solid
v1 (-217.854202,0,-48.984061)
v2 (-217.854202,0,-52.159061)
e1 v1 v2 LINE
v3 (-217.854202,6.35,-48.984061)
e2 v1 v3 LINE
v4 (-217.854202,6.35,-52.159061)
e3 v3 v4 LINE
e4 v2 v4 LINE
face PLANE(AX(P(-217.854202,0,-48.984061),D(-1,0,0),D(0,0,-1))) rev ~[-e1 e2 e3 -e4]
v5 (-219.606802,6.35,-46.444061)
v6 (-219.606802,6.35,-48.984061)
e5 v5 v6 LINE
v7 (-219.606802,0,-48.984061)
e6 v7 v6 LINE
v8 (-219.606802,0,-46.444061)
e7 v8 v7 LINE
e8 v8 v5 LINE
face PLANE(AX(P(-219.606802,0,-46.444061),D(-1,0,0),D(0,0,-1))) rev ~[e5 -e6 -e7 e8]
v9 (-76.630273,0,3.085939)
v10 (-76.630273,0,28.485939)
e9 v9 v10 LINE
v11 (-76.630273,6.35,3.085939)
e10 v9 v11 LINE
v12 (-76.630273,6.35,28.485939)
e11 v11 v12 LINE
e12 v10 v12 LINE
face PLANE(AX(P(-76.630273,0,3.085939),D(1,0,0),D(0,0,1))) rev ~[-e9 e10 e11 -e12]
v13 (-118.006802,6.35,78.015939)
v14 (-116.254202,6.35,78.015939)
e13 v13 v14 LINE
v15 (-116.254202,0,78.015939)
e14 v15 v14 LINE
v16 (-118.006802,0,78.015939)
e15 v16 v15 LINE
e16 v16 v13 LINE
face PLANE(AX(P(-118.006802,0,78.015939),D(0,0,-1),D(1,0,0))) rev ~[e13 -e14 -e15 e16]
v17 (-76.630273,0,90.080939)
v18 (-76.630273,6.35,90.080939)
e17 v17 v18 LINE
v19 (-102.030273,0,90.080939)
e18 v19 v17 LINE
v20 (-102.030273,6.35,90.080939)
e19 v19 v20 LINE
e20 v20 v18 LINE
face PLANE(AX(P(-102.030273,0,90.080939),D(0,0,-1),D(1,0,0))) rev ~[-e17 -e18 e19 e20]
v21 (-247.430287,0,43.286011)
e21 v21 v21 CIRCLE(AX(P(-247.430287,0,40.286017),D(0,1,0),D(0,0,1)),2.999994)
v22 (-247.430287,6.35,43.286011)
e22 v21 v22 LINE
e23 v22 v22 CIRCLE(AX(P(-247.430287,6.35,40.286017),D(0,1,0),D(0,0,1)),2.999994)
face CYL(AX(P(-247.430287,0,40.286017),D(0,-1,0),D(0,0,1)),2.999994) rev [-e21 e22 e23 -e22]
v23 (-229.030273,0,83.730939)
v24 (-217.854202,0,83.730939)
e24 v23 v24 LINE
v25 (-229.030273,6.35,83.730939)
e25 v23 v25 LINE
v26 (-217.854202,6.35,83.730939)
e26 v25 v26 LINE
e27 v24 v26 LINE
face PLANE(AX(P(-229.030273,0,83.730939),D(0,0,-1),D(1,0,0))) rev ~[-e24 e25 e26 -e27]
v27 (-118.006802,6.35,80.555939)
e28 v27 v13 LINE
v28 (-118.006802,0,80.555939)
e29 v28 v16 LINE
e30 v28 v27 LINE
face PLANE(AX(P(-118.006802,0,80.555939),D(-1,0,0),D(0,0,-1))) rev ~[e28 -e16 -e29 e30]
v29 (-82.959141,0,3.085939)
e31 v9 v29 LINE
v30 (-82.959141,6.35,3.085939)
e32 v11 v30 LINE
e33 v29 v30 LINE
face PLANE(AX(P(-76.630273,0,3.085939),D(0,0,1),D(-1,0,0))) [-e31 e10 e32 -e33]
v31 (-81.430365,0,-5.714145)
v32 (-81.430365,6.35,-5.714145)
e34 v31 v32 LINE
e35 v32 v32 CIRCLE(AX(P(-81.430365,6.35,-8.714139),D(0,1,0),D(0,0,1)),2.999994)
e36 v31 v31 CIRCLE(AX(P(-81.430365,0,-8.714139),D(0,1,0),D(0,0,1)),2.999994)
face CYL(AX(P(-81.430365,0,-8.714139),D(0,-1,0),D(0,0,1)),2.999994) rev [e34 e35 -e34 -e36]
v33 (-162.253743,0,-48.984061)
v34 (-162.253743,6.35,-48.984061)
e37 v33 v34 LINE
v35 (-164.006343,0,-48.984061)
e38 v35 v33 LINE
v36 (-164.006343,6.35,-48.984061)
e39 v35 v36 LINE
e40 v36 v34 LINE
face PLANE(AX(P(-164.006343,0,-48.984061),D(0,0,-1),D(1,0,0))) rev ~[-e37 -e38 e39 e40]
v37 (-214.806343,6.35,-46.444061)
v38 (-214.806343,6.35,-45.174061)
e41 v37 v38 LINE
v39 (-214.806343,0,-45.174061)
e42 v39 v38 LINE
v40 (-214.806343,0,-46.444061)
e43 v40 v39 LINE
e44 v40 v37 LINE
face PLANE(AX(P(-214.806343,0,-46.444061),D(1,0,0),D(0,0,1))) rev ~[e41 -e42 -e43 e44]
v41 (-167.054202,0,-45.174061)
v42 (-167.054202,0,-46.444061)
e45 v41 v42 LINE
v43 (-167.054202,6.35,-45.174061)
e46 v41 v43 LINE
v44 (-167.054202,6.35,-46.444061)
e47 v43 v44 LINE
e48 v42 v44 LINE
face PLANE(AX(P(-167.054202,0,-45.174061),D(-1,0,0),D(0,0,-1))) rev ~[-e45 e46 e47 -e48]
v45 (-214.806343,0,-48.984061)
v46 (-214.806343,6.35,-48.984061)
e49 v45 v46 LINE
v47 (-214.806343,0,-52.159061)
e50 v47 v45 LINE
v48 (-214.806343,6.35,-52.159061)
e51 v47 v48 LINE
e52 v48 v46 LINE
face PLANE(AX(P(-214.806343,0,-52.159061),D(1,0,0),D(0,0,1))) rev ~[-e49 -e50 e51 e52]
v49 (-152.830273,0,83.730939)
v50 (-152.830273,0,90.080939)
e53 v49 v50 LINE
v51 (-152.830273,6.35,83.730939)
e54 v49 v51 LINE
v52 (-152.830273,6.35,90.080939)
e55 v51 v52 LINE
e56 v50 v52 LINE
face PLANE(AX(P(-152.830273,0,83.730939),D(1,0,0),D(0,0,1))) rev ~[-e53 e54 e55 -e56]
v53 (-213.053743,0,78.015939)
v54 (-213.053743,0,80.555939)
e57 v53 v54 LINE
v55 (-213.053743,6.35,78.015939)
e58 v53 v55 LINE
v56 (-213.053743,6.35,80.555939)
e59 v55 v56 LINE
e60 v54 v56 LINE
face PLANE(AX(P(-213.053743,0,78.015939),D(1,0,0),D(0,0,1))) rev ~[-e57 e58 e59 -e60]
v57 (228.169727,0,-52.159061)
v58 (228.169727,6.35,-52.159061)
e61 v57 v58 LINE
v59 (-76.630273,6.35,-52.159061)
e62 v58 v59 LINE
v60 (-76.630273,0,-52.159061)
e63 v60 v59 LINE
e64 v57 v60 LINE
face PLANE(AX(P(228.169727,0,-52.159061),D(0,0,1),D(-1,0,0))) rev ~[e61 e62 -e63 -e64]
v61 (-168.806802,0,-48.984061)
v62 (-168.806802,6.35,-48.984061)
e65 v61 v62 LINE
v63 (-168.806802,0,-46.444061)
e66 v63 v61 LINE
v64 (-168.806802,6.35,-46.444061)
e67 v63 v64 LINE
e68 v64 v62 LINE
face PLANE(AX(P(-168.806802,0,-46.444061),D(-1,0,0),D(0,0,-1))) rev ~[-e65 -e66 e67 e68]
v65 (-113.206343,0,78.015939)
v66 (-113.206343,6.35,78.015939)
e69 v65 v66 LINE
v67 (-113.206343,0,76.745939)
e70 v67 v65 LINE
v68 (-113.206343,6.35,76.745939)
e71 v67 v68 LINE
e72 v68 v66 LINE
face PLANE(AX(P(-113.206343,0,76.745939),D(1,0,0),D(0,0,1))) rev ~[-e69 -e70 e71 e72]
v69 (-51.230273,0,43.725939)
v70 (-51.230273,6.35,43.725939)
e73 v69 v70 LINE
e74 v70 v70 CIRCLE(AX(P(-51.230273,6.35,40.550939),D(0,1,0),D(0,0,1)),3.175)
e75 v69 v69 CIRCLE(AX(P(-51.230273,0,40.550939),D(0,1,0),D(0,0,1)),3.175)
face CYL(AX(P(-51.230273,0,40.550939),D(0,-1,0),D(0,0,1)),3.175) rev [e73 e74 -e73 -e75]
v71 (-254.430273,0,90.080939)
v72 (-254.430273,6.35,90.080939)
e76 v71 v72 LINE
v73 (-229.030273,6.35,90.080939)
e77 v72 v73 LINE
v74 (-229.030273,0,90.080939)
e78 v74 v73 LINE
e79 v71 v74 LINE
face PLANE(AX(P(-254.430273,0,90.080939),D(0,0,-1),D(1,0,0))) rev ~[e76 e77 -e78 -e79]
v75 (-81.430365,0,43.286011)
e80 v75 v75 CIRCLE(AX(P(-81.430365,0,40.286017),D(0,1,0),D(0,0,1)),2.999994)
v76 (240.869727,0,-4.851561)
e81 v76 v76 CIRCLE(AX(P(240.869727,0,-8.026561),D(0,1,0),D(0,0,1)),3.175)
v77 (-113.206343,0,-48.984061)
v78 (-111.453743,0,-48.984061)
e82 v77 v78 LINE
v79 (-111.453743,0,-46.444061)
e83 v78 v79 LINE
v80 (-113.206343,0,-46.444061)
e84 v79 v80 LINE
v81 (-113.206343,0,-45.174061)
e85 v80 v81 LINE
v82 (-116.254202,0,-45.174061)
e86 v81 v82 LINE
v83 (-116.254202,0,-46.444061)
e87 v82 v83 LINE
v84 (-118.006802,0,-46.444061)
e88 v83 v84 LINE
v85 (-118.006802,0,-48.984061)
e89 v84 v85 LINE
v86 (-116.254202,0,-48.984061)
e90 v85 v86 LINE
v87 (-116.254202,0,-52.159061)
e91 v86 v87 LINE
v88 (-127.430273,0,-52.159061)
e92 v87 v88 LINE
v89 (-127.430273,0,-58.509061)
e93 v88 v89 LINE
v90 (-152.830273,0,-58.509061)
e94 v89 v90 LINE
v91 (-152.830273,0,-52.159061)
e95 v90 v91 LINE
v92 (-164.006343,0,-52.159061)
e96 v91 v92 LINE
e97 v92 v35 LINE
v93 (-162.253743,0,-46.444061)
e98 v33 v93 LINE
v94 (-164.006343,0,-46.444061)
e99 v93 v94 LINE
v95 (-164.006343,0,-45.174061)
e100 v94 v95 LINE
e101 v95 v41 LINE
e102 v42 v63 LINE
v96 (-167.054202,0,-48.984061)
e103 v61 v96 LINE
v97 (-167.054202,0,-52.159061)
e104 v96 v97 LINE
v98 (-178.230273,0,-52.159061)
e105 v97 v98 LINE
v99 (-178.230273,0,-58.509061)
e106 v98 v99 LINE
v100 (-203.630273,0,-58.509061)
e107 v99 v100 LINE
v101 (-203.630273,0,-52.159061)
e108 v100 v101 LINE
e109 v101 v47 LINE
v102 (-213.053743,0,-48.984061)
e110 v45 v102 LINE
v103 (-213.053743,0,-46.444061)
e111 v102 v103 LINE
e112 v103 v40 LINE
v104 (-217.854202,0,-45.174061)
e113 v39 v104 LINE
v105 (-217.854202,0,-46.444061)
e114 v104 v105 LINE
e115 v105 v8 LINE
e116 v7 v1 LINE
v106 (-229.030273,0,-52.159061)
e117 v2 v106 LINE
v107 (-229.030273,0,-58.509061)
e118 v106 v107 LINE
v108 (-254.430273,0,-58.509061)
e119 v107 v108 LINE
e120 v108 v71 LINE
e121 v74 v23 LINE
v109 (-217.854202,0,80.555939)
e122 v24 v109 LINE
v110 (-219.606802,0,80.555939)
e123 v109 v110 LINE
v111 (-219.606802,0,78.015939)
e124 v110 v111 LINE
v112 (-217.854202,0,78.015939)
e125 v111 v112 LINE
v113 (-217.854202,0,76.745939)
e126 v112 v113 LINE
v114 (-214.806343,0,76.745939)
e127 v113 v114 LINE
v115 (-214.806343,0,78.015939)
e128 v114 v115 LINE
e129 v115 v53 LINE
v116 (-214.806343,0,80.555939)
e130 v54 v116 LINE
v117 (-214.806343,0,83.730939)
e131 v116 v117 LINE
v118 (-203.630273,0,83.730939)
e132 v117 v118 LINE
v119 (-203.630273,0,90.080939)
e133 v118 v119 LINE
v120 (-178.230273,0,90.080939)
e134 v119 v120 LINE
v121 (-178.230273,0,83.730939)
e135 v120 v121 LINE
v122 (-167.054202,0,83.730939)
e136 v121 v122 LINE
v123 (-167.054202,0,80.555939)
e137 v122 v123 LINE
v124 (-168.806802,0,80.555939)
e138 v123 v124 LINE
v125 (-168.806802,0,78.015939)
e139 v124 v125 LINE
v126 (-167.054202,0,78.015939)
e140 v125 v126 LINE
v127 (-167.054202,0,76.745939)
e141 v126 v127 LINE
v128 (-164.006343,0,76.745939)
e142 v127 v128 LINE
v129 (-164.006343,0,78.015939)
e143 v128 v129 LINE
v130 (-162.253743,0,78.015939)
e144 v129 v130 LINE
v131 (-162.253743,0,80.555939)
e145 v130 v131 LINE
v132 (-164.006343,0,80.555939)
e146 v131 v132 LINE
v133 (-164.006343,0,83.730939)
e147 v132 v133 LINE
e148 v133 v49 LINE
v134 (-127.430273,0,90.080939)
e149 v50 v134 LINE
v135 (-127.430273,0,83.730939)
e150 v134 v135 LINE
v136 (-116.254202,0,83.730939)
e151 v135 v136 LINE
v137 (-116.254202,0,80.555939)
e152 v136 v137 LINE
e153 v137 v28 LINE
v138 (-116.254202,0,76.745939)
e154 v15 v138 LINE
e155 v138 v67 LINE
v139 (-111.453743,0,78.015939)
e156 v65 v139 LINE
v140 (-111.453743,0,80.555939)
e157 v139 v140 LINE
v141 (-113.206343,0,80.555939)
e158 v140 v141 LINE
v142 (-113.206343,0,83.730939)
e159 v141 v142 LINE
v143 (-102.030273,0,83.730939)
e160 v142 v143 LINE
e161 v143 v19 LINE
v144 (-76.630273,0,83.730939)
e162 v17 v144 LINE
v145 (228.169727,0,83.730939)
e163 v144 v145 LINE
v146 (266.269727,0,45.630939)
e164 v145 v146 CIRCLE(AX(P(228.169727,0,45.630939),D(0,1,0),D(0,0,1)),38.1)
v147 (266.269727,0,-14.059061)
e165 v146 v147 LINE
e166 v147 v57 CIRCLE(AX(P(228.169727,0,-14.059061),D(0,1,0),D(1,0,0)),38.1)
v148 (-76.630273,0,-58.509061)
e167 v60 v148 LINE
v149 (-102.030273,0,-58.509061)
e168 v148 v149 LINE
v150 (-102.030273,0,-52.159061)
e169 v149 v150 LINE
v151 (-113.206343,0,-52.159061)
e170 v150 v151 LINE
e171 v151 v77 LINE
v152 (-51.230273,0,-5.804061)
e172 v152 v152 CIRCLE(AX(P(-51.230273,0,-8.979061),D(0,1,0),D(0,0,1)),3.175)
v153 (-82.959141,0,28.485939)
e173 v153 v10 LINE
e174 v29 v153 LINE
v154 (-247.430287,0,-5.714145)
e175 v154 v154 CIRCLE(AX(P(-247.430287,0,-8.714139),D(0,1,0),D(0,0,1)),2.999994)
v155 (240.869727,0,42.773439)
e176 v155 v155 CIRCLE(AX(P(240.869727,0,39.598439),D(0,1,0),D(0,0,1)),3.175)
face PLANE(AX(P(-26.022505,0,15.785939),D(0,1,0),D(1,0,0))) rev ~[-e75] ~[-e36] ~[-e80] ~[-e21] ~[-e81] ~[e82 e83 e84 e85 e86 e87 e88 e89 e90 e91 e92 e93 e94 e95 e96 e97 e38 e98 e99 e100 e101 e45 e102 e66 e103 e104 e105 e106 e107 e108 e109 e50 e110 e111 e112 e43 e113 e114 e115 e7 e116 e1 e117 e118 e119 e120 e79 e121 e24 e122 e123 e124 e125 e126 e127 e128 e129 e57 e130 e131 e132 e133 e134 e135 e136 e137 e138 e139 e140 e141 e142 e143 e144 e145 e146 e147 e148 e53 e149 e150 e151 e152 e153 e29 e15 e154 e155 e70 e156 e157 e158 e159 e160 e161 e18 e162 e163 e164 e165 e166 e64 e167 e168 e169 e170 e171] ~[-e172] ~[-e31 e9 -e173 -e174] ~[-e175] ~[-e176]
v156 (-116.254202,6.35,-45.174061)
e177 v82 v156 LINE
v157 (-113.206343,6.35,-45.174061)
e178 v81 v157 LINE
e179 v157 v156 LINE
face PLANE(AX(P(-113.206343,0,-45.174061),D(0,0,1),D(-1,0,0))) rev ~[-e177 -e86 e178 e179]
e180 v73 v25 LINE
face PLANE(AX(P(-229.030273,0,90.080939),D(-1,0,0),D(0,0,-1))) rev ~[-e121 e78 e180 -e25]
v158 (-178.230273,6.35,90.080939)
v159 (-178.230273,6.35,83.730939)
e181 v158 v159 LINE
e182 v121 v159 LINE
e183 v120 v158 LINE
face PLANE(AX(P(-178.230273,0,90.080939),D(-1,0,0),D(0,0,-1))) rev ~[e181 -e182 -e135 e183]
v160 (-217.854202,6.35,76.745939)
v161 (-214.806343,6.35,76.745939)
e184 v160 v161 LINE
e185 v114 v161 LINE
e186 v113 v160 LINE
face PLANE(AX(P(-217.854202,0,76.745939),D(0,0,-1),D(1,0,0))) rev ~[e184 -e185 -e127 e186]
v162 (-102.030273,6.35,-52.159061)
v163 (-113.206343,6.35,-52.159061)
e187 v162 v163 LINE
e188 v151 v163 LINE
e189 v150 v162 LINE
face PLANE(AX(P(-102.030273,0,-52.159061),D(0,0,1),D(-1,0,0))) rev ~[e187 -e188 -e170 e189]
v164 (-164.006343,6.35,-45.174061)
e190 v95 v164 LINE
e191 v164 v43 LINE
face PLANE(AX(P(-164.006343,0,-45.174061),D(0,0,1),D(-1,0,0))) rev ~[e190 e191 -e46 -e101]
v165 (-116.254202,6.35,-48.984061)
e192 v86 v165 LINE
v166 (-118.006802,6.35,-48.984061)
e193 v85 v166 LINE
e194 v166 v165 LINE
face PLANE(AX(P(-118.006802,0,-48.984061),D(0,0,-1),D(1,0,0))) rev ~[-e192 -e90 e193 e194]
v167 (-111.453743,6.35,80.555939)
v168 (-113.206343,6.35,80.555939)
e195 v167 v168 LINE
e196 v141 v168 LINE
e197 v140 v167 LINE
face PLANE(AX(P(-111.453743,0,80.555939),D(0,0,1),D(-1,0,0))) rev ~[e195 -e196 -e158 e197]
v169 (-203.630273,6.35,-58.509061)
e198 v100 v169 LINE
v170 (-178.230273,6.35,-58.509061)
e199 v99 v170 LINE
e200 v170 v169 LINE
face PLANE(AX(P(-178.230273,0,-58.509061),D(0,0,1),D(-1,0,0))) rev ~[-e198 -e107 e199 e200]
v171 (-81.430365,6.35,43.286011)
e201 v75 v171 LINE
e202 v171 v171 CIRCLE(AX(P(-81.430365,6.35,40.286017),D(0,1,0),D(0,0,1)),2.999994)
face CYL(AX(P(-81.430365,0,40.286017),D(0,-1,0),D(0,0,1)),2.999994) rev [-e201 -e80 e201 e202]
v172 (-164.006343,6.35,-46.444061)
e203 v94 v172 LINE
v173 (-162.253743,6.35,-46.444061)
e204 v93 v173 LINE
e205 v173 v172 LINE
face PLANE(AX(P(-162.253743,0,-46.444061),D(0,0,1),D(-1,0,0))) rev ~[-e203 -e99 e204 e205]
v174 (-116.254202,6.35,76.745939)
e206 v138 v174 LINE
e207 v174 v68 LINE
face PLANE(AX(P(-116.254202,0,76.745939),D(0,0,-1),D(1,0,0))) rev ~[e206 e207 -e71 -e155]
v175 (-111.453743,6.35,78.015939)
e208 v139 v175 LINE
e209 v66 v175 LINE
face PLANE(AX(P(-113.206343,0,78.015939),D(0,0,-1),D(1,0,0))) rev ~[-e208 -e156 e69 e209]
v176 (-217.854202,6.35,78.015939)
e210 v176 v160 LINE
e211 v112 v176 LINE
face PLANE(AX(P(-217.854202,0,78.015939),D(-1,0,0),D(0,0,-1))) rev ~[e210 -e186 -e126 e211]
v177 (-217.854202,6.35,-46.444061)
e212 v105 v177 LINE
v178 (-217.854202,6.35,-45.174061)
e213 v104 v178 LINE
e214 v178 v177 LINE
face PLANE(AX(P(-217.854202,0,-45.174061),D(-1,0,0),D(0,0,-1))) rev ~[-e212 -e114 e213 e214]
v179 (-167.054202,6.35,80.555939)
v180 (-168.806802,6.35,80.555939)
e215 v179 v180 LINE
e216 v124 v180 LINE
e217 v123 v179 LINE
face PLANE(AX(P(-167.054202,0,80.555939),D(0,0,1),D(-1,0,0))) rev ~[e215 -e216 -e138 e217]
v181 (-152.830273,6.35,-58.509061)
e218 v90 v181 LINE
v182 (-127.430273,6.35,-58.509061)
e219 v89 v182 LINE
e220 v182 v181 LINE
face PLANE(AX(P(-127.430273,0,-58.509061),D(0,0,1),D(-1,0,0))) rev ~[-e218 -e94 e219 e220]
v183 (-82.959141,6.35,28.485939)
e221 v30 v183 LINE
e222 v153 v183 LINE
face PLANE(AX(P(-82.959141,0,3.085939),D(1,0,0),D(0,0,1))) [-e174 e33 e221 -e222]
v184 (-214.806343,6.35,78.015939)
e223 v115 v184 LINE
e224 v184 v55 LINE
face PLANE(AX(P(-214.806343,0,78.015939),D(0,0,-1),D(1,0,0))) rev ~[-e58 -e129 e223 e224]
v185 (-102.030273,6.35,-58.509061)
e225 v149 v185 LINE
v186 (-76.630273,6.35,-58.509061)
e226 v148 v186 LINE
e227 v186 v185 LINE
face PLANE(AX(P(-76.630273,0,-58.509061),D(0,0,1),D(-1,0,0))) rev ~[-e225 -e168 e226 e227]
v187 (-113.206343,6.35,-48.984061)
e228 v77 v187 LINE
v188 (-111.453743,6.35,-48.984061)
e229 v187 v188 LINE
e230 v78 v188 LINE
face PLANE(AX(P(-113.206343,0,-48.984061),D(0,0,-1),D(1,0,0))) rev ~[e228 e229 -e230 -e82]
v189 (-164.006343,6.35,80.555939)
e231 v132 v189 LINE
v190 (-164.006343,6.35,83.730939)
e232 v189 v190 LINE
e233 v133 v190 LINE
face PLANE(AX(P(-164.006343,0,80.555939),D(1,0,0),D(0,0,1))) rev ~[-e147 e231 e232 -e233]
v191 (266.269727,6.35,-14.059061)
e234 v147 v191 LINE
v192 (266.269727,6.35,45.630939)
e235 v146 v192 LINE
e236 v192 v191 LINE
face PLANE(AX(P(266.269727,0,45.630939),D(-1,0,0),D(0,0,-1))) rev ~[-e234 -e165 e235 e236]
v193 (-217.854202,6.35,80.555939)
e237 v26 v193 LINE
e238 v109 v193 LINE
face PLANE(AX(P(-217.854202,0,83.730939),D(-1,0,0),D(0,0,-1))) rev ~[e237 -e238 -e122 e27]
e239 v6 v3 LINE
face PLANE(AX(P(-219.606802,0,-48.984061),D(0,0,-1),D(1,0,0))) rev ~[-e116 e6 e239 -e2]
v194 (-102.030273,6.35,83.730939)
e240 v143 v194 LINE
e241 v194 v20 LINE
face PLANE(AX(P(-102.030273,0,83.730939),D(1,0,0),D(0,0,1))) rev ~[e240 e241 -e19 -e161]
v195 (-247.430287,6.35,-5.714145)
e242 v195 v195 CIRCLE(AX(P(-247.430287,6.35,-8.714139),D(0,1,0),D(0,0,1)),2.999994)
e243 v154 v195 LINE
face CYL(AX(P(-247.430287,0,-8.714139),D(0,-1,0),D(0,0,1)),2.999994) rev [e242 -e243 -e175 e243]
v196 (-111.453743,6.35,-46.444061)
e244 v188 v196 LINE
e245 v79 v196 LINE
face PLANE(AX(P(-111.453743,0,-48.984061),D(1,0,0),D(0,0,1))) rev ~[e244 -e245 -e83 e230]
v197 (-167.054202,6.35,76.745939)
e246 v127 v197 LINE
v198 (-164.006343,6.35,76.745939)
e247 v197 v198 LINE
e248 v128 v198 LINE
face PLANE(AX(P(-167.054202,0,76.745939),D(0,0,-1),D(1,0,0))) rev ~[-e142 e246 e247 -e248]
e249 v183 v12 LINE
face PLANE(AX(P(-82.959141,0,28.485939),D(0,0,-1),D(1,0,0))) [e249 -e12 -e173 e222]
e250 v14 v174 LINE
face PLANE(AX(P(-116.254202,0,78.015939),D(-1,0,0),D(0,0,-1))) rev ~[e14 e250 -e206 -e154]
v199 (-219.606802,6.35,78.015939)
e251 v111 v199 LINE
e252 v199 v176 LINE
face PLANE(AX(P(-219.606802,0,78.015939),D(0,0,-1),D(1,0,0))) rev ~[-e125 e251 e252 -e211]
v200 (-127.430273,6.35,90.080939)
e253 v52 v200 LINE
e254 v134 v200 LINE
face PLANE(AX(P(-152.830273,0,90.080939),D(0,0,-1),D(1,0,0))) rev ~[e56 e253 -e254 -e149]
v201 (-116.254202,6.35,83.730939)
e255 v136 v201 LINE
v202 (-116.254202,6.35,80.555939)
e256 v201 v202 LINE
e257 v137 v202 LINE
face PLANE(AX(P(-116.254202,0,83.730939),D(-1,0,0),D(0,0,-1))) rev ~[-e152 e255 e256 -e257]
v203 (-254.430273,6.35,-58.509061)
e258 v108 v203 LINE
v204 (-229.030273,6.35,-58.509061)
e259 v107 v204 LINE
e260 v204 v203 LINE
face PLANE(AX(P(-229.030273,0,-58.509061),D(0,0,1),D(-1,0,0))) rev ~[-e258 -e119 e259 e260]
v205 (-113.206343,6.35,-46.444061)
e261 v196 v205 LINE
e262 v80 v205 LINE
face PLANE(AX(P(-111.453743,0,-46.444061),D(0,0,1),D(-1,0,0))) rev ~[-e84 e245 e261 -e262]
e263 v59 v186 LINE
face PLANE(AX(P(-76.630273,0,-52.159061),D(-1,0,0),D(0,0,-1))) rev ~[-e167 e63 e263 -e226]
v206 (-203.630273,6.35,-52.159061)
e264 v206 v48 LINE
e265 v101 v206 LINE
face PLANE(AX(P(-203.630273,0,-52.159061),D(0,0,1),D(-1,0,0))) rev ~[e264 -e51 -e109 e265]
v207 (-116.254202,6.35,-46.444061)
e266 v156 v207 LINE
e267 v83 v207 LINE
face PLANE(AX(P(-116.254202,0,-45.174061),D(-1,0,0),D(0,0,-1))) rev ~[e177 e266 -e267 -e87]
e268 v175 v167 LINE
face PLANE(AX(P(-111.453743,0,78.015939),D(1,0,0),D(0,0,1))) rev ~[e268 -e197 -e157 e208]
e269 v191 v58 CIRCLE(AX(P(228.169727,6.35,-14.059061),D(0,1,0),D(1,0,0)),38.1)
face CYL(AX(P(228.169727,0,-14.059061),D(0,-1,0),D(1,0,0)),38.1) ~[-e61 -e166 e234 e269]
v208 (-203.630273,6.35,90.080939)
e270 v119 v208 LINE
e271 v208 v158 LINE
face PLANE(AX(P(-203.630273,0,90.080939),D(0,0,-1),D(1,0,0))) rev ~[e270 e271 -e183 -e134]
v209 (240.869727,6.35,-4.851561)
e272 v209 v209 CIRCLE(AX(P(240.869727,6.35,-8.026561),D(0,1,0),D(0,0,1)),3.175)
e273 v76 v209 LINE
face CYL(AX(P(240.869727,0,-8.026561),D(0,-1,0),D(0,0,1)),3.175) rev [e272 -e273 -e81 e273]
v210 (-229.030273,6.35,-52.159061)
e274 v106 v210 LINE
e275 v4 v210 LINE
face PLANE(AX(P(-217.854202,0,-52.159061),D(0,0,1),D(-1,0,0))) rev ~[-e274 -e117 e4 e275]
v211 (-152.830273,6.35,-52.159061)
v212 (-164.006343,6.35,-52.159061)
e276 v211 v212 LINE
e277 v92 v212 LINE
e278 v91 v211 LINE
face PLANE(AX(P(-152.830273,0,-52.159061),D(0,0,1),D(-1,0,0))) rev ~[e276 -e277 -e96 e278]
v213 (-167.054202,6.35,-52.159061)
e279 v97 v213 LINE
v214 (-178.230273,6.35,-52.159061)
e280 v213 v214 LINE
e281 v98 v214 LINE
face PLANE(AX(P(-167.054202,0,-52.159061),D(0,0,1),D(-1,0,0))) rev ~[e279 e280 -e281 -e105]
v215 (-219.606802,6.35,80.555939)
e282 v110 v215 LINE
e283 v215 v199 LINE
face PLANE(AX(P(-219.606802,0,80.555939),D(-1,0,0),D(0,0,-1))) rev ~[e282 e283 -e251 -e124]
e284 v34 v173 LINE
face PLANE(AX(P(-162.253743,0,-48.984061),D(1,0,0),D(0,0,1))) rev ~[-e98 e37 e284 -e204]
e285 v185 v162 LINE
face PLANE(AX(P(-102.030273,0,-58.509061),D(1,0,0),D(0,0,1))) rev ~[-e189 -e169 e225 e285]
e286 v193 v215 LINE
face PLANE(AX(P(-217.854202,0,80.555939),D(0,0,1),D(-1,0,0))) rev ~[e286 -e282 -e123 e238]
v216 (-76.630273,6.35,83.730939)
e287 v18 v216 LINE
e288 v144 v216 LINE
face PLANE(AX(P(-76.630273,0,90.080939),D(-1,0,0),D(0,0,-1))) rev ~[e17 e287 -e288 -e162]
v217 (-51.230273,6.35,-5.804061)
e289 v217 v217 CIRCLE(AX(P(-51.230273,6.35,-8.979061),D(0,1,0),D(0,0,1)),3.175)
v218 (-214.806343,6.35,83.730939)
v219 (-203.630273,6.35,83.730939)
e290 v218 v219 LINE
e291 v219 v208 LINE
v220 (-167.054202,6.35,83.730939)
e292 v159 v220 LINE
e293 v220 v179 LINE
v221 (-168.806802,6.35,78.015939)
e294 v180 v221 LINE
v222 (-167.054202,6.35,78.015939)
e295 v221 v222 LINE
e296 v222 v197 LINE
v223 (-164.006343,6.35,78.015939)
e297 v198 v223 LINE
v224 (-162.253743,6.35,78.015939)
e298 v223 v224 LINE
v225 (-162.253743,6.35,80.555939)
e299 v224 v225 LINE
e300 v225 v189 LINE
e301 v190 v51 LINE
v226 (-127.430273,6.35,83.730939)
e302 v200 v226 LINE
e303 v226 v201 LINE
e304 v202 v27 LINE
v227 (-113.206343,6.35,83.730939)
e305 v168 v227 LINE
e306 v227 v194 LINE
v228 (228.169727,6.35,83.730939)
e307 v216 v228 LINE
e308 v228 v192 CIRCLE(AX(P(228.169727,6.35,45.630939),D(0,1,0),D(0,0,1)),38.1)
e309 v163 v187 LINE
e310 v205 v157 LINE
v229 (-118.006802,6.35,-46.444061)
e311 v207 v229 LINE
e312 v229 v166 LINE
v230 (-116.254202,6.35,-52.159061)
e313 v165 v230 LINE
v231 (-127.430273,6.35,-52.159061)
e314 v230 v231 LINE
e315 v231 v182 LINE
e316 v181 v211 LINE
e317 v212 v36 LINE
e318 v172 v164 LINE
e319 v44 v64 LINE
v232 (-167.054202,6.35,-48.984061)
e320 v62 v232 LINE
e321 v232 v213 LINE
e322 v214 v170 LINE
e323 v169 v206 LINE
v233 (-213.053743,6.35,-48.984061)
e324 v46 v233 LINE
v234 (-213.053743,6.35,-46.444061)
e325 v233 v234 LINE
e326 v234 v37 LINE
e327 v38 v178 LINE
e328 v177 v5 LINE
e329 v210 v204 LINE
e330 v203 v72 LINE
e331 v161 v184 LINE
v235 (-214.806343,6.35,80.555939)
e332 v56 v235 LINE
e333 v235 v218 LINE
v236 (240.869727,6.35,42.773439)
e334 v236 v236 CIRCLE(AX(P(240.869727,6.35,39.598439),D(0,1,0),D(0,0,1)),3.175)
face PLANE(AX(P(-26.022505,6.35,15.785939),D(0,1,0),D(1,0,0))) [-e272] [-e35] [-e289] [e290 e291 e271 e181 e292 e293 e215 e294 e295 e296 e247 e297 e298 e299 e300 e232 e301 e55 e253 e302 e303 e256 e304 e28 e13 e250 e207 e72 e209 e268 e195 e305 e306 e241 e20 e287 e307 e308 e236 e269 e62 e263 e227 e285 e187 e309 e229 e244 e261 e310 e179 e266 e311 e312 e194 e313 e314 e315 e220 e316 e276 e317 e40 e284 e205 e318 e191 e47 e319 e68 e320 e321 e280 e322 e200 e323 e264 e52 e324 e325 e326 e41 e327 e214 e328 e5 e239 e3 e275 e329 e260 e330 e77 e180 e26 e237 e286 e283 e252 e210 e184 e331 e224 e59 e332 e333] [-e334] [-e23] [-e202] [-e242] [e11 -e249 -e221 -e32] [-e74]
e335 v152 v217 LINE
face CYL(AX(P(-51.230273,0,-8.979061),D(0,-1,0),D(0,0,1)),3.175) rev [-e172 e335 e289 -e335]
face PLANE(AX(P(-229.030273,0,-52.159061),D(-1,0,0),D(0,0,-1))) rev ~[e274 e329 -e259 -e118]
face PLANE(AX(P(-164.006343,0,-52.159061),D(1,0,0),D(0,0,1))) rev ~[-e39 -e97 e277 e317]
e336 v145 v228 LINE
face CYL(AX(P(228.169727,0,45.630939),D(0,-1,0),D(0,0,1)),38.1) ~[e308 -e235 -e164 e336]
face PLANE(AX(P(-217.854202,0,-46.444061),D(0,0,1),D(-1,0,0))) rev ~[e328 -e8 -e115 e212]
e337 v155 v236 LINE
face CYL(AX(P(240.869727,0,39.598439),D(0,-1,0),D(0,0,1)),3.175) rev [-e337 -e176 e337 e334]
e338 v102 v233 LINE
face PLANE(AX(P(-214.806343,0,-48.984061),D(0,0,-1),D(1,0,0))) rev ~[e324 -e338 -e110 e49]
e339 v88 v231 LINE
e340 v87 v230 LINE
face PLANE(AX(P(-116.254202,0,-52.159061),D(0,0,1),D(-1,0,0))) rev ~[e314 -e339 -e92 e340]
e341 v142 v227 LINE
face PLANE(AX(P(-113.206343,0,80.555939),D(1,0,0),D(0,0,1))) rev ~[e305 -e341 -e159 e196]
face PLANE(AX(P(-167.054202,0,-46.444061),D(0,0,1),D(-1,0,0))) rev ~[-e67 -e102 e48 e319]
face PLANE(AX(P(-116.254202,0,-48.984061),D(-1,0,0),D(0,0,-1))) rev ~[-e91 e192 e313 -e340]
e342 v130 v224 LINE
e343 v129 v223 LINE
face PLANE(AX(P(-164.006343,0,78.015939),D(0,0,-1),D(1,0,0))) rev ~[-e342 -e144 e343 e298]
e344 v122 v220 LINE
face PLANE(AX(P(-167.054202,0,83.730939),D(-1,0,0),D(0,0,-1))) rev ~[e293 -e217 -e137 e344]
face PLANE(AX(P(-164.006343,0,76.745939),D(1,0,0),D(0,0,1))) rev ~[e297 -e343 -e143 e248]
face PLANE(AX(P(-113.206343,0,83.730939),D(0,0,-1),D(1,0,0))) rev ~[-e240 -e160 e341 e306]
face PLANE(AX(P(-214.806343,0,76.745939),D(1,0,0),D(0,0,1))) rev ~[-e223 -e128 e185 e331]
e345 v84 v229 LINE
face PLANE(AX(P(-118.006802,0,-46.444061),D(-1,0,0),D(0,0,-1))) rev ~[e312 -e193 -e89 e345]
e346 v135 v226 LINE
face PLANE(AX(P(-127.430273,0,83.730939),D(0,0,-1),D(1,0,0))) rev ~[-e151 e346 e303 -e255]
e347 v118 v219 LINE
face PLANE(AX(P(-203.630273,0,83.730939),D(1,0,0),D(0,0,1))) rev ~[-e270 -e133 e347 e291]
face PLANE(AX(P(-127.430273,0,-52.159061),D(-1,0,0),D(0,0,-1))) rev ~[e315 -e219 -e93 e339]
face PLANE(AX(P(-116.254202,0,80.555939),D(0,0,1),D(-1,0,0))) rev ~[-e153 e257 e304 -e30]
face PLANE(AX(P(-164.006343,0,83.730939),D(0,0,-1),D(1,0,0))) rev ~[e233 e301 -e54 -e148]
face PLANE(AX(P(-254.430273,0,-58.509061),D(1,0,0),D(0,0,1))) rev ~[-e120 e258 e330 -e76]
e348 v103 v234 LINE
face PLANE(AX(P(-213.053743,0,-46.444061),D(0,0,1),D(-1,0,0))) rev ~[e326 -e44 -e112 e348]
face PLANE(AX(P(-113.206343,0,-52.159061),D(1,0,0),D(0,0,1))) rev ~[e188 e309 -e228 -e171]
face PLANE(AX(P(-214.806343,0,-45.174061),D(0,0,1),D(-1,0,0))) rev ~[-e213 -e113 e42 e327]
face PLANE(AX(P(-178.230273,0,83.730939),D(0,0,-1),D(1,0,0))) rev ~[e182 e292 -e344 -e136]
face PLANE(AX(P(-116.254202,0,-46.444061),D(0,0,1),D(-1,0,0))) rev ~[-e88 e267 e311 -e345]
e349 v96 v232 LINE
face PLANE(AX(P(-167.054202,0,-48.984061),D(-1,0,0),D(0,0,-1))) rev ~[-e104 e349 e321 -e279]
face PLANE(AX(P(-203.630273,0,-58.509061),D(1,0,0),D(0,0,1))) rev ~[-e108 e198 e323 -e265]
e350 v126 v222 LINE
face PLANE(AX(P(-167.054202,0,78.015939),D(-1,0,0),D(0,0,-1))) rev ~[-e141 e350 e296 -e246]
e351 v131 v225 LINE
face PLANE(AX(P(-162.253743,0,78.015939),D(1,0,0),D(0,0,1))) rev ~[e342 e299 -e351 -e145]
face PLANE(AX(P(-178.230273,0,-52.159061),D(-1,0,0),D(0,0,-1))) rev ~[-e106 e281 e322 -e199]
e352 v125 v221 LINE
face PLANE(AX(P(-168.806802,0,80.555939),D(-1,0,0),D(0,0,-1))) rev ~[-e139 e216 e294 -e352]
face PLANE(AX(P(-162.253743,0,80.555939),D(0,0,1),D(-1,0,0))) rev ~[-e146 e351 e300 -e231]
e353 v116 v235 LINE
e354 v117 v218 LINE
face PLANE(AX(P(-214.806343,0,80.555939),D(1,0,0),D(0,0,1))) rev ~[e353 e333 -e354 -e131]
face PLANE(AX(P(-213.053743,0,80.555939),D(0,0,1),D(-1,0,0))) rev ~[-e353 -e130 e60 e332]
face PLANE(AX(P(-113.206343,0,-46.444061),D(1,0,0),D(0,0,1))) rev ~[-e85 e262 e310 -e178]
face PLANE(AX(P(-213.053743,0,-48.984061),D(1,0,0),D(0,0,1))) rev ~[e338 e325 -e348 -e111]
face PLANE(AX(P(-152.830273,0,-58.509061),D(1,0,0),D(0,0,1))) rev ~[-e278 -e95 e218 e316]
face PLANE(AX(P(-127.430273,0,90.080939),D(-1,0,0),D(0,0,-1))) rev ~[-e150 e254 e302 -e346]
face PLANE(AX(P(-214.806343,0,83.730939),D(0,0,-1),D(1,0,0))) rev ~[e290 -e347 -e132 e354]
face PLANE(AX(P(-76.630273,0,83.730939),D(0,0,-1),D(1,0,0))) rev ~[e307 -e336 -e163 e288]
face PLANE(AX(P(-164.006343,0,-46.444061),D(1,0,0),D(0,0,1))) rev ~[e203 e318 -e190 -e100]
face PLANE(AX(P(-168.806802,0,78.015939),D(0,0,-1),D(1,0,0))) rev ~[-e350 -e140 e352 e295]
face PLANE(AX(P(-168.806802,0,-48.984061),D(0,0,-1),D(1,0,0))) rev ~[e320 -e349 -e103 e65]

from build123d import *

# Parameters (mm, degrees)
SKETCH1_R           = 3.175
SKETCH1_R_2         = 2.999994
BOSS_EXTRUDE1_DEPTH = 6.35


with BuildPart() as part:
    # Sketch1 → Boss-Extrude1 (new body)
    with BuildSketch(Plane(origin=(0, 0, 0), x_dir=(1, 0, 0), z_dir=(0, 1, 0))):
        with BuildLine():
            Line((-254.430272712, 52.159060564), (-254.430272712, -83.730939436))
            Line((-254.430272712, -83.730939436), (-254.430272712, -90.080939436))
            Line((-254.430272712, -90.080939436), (-229.030272712, -90.080939436))
            Line((-229.030272712, -90.080939436), (-229.030272712, -83.730939436))
            Line((-229.030272712, -83.730939436), (-217.85420239, -83.730939436))
            Line((-217.85420239, -83.730939436), (-217.85420239, -80.555939436))
            Line((-217.85420239, -80.555939436), (-219.60680239, -80.555939436))
            Line((-219.60680239, -80.555939436), (-219.60680239, -78.015939436))
            Line((-219.60680239, -78.015939436), (-217.85420239, -78.015939436))
            Line((-217.85420239, -78.015939436), (-217.85420239, -76.745939436))
            Line((-217.85420239, -76.745939436), (-214.806343034, -76.745939436))
            Line((-214.806343034, -76.745939436), (-214.806343034, -78.015939436))
            Line((-214.806343034, -78.015939436), (-213.053743034, -78.015939436))
            Line((-213.053743034, -78.015939436), (-213.053743034, -80.555939436))
            Line((-213.053743034, -80.555939436), (-214.806343034, -80.555939436))
            Line((-214.806343034, -80.555939436), (-214.806343034, -83.730939436))
            Line((-214.806343034, -83.730939436), (-203.630272712, -83.730939436))
            Line((-203.630272712, -83.730939436), (-203.630272712, -90.080939436))
            Line((-203.630272712, -90.080939436), (-178.230272712, -90.080939436))
            Line((-178.230272712, -90.080939436), (-178.230272712, -83.730939436))
            Line((-178.230272712, -83.730939436), (-167.05420239, -83.730939436))
            Line((-167.05420239, -83.730939436), (-167.05420239, -80.555939436))
            Line((-167.05420239, -80.555939436), (-168.80680239, -80.555939436))
            Line((-168.80680239, -80.555939436), (-168.80680239, -78.015939436))
            Line((-168.80680239, -78.015939436), (-167.05420239, -78.015939436))
            Line((-167.05420239, -78.015939436), (-167.05420239, -76.745939436))
            Line((-167.05420239, -76.745939436), (-164.006343034, -76.745939436))
            Line((-164.006343034, -76.745939436), (-164.006343034, -78.015939436))
            Line((-164.006343034, -78.015939436), (-162.253743034, -78.015939436))
            Line((-162.253743034, -78.015939436), (-162.253743034, -80.555939436))
            Line((-162.253743034, -80.555939436), (-164.006343034, -80.555939436))
            Line((-164.006343034, -80.555939436), (-164.006343034, -83.730939436))
            Line((-164.006343034, -83.730939436), (-152.830272712, -83.730939436))
            Line((-152.830272712, -83.730939436), (-152.830272712, -90.080939436))
            Line((-152.830272712, -90.080939436), (-127.430272712, -90.080939436))
            Line((-127.430272712, -90.080939436), (-127.430272712, -83.730939436))
            Line((-127.430272712, -83.730939436), (-116.25420239, -83.730939436))
            Line((-116.25420239, -83.730939436), (-116.25420239, -80.555939436))
            Line((-116.25420239, -80.555939436), (-118.00680239, -80.555939436))
            Line((-118.00680239, -80.555939436), (-118.00680239, -78.015939436))
            Line((-118.00680239, -78.015939436), (-116.25420239, -78.015939436))
            Line((-116.25420239, -78.015939436), (-116.25420239, -76.745939436))
            Line((-116.25420239, -76.745939436), (-113.206343034, -76.745939436))
            Line((-113.206343034, -76.745939436), (-113.206343034, -78.015939436))
            Line((-113.206343034, -78.015939436), (-111.453743034, -78.015939436))
            Line((-111.453743034, -78.015939436), (-111.453743034, -80.555939436))
            Line((-111.453743034, -80.555939436), (-113.206343034, -80.555939436))
            Line((-113.206343034, -80.555939436), (-113.206343034, -83.730939436))
            Line((-113.206343034, -83.730939436), (-102.030272712, -83.730939436))
            Line((-102.030272712, -83.730939436), (-102.030272712, -90.080939436))
            Line((-102.030272712, -90.080939436), (-76.630272712, -90.080939436))
            Line((-76.630272712, -90.080939436), (-76.630272712, -83.730939436))
            Line((-76.630272712, -83.730939436), (228.169727288, -83.730939436))
            ThreePointArc((228.169727288, -83.730939436), (255.110495652, -72.571707799), (266.269727288, -45.630939436))
            Line((266.269727288, -45.630939436), (266.269727288, 14.059060564))
            ThreePointArc((266.269727288, 14.059060564), (255.110495652, 40.999828928), (228.169727288, 52.159060564))
            Line((228.169727288, 52.159060564), (-76.630272712, 52.159060564))
            Line((-76.630272712, 52.159060564), (-76.630272712, 58.509060564))
            Line((-76.630272712, 58.509060564), (-102.030272712, 58.509060564))
            Line((-102.030272712, 58.509060564), (-102.030272712, 52.159060564))
            Line((-102.030272712, 52.159060564), (-113.206343034, 52.159060564))
            Line((-113.206343034, 52.159060564), (-113.206343034, 48.984060564))
            Line((-113.206343034, 48.984060564), (-111.453743034, 48.984060564))
            Line((-111.453743034, 48.984060564), (-111.453743034, 46.444060564))
            Line((-111.453743034, 46.444060564), (-113.206343034, 46.444060564))
            Line((-113.206343034, 46.444060564), (-113.206343034, 45.174060564))
            Line((-113.206343034, 45.174060564), (-116.25420239, 45.174060564))
            Line((-116.25420239, 45.174060564), (-116.25420239, 46.444060564))
            Line((-116.25420239, 46.444060564), (-118.00680239, 46.444060564))
            Line((-118.00680239, 46.444060564), (-118.00680239, 48.984060564))
            Line((-118.00680239, 48.984060564), (-116.25420239, 48.984060564))
            Line((-116.25420239, 48.984060564), (-116.25420239, 52.159060564))
            Line((-116.25420239, 52.159060564), (-127.430272712, 52.159060564))
            Line((-127.430272712, 52.159060564), (-127.430272712, 58.509060564))
            Line((-127.430272712, 58.509060564), (-152.830272712, 58.509060564))
            Line((-152.830272712, 58.509060564), (-152.830272712, 52.159060564))
            Line((-152.830272712, 52.159060564), (-164.006343034, 52.159060564))
            Line((-164.006343034, 52.159060564), (-164.006343034, 48.984060564))
            Line((-164.006343034, 48.984060564), (-162.253743034, 48.984060564))
            Line((-162.253743034, 48.984060564), (-162.253743034, 46.444060564))
            Line((-162.253743034, 46.444060564), (-164.006343034, 46.444060564))
            Line((-164.006343034, 46.444060564), (-164.006343034, 45.174060564))
            Line((-164.006343034, 45.174060564), (-167.05420239, 45.174060564))
            Line((-167.05420239, 45.174060564), (-167.05420239, 46.444060564))
            Line((-167.05420239, 46.444060564), (-168.80680239, 46.444060564))
            Line((-168.80680239, 46.444060564), (-168.80680239, 48.984060564))
            Line((-168.80680239, 48.984060564), (-167.05420239, 48.984060564))
            Line((-167.05420239, 48.984060564), (-167.05420239, 52.159060564))
            Line((-167.05420239, 52.159060564), (-178.230272712, 52.159060564))
            Line((-178.230272712, 52.159060564), (-178.230272712, 58.509060564))
            Line((-178.230272712, 58.509060564), (-203.630272712, 58.509060564))
            Line((-203.630272712, 58.509060564), (-203.630272712, 52.159060564))
            Line((-203.630272712, 52.159060564), (-214.806343034, 52.159060564))
            Line((-214.806343034, 52.159060564), (-214.806343034, 48.984060564))
            Line((-214.806343034, 48.984060564), (-213.053743034, 48.984060564))
            Line((-213.053743034, 48.984060564), (-213.053743034, 46.444060564))
            Line((-213.053743034, 46.444060564), (-214.806343034, 46.444060564))
            Line((-214.806343034, 46.444060564), (-214.806343034, 45.174060564))
            Line((-214.806343034, 45.174060564), (-217.85420239, 45.174060564))
            Line((-217.85420239, 45.174060564), (-217.85420239, 46.444060564))
            Line((-217.85420239, 46.444060564), (-219.60680239, 46.444060564))
            Line((-219.60680239, 46.444060564), (-219.60680239, 48.984060564))
            Line((-219.60680239, 48.984060564), (-217.85420239, 48.984060564))
            Line((-217.85420239, 48.984060564), (-217.85420239, 52.159060564))
            Line((-217.85420239, 52.159060564), (-229.030272712, 52.159060564))
            Line((-229.030272712, 52.159060564), (-229.030272712, 58.509060564))
            Line((-229.030272712, 58.509060564), (-254.430272712, 58.509060564))
            Line((-254.430272712, 58.509060564), (-254.430272712, 52.159060564))
        make_face()
        with Locations(Location((240.869727288, 8.026560564, 0), (0, 0, 270))):
            Circle(SKETCH1_R, mode=Mode.SUBTRACT)
        with Locations(Location((240.869727288, -39.598439436, 0), (0, 0, 270))):
            Circle(SKETCH1_R, mode=Mode.SUBTRACT)
        with Locations(Location((-51.230272712, -40.550939436, 0), (0, 0, 270))):
            Circle(SKETCH1_R, mode=Mode.SUBTRACT)
        with Locations(Location((-51.230272712, 8.979060564, 0), (0, 0, 270))):
            Circle(SKETCH1_R, mode=Mode.SUBTRACT)
        with Locations(Location((-247.430286712, 8.714138564, 0), (0, 0, 270))):
            Circle(SKETCH1_R_2, mode=Mode.SUBTRACT)
        with Locations(Location((-247.430286712, -40.286017436, 0), (0, 0, 270))):
            Circle(SKETCH1_R_2, mode=Mode.SUBTRACT)
        with Locations(Location((-81.430364712, 8.714138564, 0), (0, 0, 270))):
            Circle(SKETCH1_R_2, mode=Mode.SUBTRACT)
        with Locations(Location((-81.430364712, -40.286017436, 0), (0, 0, 270))):
            Circle(SKETCH1_R_2, mode=Mode.SUBTRACT)
        Polygon((-76.630272712, -15.785939436), (-76.630272712, -3.085939436), (-82.959141148, -3.085939436), (-82.959141148, -28.485939436), (-76.630272712, -28.485939436), align=None, mode=Mode.SUBTRACT)
    extrude(amount=BOSS_EXTRUDE1_DEPTH)


solid = part.part
